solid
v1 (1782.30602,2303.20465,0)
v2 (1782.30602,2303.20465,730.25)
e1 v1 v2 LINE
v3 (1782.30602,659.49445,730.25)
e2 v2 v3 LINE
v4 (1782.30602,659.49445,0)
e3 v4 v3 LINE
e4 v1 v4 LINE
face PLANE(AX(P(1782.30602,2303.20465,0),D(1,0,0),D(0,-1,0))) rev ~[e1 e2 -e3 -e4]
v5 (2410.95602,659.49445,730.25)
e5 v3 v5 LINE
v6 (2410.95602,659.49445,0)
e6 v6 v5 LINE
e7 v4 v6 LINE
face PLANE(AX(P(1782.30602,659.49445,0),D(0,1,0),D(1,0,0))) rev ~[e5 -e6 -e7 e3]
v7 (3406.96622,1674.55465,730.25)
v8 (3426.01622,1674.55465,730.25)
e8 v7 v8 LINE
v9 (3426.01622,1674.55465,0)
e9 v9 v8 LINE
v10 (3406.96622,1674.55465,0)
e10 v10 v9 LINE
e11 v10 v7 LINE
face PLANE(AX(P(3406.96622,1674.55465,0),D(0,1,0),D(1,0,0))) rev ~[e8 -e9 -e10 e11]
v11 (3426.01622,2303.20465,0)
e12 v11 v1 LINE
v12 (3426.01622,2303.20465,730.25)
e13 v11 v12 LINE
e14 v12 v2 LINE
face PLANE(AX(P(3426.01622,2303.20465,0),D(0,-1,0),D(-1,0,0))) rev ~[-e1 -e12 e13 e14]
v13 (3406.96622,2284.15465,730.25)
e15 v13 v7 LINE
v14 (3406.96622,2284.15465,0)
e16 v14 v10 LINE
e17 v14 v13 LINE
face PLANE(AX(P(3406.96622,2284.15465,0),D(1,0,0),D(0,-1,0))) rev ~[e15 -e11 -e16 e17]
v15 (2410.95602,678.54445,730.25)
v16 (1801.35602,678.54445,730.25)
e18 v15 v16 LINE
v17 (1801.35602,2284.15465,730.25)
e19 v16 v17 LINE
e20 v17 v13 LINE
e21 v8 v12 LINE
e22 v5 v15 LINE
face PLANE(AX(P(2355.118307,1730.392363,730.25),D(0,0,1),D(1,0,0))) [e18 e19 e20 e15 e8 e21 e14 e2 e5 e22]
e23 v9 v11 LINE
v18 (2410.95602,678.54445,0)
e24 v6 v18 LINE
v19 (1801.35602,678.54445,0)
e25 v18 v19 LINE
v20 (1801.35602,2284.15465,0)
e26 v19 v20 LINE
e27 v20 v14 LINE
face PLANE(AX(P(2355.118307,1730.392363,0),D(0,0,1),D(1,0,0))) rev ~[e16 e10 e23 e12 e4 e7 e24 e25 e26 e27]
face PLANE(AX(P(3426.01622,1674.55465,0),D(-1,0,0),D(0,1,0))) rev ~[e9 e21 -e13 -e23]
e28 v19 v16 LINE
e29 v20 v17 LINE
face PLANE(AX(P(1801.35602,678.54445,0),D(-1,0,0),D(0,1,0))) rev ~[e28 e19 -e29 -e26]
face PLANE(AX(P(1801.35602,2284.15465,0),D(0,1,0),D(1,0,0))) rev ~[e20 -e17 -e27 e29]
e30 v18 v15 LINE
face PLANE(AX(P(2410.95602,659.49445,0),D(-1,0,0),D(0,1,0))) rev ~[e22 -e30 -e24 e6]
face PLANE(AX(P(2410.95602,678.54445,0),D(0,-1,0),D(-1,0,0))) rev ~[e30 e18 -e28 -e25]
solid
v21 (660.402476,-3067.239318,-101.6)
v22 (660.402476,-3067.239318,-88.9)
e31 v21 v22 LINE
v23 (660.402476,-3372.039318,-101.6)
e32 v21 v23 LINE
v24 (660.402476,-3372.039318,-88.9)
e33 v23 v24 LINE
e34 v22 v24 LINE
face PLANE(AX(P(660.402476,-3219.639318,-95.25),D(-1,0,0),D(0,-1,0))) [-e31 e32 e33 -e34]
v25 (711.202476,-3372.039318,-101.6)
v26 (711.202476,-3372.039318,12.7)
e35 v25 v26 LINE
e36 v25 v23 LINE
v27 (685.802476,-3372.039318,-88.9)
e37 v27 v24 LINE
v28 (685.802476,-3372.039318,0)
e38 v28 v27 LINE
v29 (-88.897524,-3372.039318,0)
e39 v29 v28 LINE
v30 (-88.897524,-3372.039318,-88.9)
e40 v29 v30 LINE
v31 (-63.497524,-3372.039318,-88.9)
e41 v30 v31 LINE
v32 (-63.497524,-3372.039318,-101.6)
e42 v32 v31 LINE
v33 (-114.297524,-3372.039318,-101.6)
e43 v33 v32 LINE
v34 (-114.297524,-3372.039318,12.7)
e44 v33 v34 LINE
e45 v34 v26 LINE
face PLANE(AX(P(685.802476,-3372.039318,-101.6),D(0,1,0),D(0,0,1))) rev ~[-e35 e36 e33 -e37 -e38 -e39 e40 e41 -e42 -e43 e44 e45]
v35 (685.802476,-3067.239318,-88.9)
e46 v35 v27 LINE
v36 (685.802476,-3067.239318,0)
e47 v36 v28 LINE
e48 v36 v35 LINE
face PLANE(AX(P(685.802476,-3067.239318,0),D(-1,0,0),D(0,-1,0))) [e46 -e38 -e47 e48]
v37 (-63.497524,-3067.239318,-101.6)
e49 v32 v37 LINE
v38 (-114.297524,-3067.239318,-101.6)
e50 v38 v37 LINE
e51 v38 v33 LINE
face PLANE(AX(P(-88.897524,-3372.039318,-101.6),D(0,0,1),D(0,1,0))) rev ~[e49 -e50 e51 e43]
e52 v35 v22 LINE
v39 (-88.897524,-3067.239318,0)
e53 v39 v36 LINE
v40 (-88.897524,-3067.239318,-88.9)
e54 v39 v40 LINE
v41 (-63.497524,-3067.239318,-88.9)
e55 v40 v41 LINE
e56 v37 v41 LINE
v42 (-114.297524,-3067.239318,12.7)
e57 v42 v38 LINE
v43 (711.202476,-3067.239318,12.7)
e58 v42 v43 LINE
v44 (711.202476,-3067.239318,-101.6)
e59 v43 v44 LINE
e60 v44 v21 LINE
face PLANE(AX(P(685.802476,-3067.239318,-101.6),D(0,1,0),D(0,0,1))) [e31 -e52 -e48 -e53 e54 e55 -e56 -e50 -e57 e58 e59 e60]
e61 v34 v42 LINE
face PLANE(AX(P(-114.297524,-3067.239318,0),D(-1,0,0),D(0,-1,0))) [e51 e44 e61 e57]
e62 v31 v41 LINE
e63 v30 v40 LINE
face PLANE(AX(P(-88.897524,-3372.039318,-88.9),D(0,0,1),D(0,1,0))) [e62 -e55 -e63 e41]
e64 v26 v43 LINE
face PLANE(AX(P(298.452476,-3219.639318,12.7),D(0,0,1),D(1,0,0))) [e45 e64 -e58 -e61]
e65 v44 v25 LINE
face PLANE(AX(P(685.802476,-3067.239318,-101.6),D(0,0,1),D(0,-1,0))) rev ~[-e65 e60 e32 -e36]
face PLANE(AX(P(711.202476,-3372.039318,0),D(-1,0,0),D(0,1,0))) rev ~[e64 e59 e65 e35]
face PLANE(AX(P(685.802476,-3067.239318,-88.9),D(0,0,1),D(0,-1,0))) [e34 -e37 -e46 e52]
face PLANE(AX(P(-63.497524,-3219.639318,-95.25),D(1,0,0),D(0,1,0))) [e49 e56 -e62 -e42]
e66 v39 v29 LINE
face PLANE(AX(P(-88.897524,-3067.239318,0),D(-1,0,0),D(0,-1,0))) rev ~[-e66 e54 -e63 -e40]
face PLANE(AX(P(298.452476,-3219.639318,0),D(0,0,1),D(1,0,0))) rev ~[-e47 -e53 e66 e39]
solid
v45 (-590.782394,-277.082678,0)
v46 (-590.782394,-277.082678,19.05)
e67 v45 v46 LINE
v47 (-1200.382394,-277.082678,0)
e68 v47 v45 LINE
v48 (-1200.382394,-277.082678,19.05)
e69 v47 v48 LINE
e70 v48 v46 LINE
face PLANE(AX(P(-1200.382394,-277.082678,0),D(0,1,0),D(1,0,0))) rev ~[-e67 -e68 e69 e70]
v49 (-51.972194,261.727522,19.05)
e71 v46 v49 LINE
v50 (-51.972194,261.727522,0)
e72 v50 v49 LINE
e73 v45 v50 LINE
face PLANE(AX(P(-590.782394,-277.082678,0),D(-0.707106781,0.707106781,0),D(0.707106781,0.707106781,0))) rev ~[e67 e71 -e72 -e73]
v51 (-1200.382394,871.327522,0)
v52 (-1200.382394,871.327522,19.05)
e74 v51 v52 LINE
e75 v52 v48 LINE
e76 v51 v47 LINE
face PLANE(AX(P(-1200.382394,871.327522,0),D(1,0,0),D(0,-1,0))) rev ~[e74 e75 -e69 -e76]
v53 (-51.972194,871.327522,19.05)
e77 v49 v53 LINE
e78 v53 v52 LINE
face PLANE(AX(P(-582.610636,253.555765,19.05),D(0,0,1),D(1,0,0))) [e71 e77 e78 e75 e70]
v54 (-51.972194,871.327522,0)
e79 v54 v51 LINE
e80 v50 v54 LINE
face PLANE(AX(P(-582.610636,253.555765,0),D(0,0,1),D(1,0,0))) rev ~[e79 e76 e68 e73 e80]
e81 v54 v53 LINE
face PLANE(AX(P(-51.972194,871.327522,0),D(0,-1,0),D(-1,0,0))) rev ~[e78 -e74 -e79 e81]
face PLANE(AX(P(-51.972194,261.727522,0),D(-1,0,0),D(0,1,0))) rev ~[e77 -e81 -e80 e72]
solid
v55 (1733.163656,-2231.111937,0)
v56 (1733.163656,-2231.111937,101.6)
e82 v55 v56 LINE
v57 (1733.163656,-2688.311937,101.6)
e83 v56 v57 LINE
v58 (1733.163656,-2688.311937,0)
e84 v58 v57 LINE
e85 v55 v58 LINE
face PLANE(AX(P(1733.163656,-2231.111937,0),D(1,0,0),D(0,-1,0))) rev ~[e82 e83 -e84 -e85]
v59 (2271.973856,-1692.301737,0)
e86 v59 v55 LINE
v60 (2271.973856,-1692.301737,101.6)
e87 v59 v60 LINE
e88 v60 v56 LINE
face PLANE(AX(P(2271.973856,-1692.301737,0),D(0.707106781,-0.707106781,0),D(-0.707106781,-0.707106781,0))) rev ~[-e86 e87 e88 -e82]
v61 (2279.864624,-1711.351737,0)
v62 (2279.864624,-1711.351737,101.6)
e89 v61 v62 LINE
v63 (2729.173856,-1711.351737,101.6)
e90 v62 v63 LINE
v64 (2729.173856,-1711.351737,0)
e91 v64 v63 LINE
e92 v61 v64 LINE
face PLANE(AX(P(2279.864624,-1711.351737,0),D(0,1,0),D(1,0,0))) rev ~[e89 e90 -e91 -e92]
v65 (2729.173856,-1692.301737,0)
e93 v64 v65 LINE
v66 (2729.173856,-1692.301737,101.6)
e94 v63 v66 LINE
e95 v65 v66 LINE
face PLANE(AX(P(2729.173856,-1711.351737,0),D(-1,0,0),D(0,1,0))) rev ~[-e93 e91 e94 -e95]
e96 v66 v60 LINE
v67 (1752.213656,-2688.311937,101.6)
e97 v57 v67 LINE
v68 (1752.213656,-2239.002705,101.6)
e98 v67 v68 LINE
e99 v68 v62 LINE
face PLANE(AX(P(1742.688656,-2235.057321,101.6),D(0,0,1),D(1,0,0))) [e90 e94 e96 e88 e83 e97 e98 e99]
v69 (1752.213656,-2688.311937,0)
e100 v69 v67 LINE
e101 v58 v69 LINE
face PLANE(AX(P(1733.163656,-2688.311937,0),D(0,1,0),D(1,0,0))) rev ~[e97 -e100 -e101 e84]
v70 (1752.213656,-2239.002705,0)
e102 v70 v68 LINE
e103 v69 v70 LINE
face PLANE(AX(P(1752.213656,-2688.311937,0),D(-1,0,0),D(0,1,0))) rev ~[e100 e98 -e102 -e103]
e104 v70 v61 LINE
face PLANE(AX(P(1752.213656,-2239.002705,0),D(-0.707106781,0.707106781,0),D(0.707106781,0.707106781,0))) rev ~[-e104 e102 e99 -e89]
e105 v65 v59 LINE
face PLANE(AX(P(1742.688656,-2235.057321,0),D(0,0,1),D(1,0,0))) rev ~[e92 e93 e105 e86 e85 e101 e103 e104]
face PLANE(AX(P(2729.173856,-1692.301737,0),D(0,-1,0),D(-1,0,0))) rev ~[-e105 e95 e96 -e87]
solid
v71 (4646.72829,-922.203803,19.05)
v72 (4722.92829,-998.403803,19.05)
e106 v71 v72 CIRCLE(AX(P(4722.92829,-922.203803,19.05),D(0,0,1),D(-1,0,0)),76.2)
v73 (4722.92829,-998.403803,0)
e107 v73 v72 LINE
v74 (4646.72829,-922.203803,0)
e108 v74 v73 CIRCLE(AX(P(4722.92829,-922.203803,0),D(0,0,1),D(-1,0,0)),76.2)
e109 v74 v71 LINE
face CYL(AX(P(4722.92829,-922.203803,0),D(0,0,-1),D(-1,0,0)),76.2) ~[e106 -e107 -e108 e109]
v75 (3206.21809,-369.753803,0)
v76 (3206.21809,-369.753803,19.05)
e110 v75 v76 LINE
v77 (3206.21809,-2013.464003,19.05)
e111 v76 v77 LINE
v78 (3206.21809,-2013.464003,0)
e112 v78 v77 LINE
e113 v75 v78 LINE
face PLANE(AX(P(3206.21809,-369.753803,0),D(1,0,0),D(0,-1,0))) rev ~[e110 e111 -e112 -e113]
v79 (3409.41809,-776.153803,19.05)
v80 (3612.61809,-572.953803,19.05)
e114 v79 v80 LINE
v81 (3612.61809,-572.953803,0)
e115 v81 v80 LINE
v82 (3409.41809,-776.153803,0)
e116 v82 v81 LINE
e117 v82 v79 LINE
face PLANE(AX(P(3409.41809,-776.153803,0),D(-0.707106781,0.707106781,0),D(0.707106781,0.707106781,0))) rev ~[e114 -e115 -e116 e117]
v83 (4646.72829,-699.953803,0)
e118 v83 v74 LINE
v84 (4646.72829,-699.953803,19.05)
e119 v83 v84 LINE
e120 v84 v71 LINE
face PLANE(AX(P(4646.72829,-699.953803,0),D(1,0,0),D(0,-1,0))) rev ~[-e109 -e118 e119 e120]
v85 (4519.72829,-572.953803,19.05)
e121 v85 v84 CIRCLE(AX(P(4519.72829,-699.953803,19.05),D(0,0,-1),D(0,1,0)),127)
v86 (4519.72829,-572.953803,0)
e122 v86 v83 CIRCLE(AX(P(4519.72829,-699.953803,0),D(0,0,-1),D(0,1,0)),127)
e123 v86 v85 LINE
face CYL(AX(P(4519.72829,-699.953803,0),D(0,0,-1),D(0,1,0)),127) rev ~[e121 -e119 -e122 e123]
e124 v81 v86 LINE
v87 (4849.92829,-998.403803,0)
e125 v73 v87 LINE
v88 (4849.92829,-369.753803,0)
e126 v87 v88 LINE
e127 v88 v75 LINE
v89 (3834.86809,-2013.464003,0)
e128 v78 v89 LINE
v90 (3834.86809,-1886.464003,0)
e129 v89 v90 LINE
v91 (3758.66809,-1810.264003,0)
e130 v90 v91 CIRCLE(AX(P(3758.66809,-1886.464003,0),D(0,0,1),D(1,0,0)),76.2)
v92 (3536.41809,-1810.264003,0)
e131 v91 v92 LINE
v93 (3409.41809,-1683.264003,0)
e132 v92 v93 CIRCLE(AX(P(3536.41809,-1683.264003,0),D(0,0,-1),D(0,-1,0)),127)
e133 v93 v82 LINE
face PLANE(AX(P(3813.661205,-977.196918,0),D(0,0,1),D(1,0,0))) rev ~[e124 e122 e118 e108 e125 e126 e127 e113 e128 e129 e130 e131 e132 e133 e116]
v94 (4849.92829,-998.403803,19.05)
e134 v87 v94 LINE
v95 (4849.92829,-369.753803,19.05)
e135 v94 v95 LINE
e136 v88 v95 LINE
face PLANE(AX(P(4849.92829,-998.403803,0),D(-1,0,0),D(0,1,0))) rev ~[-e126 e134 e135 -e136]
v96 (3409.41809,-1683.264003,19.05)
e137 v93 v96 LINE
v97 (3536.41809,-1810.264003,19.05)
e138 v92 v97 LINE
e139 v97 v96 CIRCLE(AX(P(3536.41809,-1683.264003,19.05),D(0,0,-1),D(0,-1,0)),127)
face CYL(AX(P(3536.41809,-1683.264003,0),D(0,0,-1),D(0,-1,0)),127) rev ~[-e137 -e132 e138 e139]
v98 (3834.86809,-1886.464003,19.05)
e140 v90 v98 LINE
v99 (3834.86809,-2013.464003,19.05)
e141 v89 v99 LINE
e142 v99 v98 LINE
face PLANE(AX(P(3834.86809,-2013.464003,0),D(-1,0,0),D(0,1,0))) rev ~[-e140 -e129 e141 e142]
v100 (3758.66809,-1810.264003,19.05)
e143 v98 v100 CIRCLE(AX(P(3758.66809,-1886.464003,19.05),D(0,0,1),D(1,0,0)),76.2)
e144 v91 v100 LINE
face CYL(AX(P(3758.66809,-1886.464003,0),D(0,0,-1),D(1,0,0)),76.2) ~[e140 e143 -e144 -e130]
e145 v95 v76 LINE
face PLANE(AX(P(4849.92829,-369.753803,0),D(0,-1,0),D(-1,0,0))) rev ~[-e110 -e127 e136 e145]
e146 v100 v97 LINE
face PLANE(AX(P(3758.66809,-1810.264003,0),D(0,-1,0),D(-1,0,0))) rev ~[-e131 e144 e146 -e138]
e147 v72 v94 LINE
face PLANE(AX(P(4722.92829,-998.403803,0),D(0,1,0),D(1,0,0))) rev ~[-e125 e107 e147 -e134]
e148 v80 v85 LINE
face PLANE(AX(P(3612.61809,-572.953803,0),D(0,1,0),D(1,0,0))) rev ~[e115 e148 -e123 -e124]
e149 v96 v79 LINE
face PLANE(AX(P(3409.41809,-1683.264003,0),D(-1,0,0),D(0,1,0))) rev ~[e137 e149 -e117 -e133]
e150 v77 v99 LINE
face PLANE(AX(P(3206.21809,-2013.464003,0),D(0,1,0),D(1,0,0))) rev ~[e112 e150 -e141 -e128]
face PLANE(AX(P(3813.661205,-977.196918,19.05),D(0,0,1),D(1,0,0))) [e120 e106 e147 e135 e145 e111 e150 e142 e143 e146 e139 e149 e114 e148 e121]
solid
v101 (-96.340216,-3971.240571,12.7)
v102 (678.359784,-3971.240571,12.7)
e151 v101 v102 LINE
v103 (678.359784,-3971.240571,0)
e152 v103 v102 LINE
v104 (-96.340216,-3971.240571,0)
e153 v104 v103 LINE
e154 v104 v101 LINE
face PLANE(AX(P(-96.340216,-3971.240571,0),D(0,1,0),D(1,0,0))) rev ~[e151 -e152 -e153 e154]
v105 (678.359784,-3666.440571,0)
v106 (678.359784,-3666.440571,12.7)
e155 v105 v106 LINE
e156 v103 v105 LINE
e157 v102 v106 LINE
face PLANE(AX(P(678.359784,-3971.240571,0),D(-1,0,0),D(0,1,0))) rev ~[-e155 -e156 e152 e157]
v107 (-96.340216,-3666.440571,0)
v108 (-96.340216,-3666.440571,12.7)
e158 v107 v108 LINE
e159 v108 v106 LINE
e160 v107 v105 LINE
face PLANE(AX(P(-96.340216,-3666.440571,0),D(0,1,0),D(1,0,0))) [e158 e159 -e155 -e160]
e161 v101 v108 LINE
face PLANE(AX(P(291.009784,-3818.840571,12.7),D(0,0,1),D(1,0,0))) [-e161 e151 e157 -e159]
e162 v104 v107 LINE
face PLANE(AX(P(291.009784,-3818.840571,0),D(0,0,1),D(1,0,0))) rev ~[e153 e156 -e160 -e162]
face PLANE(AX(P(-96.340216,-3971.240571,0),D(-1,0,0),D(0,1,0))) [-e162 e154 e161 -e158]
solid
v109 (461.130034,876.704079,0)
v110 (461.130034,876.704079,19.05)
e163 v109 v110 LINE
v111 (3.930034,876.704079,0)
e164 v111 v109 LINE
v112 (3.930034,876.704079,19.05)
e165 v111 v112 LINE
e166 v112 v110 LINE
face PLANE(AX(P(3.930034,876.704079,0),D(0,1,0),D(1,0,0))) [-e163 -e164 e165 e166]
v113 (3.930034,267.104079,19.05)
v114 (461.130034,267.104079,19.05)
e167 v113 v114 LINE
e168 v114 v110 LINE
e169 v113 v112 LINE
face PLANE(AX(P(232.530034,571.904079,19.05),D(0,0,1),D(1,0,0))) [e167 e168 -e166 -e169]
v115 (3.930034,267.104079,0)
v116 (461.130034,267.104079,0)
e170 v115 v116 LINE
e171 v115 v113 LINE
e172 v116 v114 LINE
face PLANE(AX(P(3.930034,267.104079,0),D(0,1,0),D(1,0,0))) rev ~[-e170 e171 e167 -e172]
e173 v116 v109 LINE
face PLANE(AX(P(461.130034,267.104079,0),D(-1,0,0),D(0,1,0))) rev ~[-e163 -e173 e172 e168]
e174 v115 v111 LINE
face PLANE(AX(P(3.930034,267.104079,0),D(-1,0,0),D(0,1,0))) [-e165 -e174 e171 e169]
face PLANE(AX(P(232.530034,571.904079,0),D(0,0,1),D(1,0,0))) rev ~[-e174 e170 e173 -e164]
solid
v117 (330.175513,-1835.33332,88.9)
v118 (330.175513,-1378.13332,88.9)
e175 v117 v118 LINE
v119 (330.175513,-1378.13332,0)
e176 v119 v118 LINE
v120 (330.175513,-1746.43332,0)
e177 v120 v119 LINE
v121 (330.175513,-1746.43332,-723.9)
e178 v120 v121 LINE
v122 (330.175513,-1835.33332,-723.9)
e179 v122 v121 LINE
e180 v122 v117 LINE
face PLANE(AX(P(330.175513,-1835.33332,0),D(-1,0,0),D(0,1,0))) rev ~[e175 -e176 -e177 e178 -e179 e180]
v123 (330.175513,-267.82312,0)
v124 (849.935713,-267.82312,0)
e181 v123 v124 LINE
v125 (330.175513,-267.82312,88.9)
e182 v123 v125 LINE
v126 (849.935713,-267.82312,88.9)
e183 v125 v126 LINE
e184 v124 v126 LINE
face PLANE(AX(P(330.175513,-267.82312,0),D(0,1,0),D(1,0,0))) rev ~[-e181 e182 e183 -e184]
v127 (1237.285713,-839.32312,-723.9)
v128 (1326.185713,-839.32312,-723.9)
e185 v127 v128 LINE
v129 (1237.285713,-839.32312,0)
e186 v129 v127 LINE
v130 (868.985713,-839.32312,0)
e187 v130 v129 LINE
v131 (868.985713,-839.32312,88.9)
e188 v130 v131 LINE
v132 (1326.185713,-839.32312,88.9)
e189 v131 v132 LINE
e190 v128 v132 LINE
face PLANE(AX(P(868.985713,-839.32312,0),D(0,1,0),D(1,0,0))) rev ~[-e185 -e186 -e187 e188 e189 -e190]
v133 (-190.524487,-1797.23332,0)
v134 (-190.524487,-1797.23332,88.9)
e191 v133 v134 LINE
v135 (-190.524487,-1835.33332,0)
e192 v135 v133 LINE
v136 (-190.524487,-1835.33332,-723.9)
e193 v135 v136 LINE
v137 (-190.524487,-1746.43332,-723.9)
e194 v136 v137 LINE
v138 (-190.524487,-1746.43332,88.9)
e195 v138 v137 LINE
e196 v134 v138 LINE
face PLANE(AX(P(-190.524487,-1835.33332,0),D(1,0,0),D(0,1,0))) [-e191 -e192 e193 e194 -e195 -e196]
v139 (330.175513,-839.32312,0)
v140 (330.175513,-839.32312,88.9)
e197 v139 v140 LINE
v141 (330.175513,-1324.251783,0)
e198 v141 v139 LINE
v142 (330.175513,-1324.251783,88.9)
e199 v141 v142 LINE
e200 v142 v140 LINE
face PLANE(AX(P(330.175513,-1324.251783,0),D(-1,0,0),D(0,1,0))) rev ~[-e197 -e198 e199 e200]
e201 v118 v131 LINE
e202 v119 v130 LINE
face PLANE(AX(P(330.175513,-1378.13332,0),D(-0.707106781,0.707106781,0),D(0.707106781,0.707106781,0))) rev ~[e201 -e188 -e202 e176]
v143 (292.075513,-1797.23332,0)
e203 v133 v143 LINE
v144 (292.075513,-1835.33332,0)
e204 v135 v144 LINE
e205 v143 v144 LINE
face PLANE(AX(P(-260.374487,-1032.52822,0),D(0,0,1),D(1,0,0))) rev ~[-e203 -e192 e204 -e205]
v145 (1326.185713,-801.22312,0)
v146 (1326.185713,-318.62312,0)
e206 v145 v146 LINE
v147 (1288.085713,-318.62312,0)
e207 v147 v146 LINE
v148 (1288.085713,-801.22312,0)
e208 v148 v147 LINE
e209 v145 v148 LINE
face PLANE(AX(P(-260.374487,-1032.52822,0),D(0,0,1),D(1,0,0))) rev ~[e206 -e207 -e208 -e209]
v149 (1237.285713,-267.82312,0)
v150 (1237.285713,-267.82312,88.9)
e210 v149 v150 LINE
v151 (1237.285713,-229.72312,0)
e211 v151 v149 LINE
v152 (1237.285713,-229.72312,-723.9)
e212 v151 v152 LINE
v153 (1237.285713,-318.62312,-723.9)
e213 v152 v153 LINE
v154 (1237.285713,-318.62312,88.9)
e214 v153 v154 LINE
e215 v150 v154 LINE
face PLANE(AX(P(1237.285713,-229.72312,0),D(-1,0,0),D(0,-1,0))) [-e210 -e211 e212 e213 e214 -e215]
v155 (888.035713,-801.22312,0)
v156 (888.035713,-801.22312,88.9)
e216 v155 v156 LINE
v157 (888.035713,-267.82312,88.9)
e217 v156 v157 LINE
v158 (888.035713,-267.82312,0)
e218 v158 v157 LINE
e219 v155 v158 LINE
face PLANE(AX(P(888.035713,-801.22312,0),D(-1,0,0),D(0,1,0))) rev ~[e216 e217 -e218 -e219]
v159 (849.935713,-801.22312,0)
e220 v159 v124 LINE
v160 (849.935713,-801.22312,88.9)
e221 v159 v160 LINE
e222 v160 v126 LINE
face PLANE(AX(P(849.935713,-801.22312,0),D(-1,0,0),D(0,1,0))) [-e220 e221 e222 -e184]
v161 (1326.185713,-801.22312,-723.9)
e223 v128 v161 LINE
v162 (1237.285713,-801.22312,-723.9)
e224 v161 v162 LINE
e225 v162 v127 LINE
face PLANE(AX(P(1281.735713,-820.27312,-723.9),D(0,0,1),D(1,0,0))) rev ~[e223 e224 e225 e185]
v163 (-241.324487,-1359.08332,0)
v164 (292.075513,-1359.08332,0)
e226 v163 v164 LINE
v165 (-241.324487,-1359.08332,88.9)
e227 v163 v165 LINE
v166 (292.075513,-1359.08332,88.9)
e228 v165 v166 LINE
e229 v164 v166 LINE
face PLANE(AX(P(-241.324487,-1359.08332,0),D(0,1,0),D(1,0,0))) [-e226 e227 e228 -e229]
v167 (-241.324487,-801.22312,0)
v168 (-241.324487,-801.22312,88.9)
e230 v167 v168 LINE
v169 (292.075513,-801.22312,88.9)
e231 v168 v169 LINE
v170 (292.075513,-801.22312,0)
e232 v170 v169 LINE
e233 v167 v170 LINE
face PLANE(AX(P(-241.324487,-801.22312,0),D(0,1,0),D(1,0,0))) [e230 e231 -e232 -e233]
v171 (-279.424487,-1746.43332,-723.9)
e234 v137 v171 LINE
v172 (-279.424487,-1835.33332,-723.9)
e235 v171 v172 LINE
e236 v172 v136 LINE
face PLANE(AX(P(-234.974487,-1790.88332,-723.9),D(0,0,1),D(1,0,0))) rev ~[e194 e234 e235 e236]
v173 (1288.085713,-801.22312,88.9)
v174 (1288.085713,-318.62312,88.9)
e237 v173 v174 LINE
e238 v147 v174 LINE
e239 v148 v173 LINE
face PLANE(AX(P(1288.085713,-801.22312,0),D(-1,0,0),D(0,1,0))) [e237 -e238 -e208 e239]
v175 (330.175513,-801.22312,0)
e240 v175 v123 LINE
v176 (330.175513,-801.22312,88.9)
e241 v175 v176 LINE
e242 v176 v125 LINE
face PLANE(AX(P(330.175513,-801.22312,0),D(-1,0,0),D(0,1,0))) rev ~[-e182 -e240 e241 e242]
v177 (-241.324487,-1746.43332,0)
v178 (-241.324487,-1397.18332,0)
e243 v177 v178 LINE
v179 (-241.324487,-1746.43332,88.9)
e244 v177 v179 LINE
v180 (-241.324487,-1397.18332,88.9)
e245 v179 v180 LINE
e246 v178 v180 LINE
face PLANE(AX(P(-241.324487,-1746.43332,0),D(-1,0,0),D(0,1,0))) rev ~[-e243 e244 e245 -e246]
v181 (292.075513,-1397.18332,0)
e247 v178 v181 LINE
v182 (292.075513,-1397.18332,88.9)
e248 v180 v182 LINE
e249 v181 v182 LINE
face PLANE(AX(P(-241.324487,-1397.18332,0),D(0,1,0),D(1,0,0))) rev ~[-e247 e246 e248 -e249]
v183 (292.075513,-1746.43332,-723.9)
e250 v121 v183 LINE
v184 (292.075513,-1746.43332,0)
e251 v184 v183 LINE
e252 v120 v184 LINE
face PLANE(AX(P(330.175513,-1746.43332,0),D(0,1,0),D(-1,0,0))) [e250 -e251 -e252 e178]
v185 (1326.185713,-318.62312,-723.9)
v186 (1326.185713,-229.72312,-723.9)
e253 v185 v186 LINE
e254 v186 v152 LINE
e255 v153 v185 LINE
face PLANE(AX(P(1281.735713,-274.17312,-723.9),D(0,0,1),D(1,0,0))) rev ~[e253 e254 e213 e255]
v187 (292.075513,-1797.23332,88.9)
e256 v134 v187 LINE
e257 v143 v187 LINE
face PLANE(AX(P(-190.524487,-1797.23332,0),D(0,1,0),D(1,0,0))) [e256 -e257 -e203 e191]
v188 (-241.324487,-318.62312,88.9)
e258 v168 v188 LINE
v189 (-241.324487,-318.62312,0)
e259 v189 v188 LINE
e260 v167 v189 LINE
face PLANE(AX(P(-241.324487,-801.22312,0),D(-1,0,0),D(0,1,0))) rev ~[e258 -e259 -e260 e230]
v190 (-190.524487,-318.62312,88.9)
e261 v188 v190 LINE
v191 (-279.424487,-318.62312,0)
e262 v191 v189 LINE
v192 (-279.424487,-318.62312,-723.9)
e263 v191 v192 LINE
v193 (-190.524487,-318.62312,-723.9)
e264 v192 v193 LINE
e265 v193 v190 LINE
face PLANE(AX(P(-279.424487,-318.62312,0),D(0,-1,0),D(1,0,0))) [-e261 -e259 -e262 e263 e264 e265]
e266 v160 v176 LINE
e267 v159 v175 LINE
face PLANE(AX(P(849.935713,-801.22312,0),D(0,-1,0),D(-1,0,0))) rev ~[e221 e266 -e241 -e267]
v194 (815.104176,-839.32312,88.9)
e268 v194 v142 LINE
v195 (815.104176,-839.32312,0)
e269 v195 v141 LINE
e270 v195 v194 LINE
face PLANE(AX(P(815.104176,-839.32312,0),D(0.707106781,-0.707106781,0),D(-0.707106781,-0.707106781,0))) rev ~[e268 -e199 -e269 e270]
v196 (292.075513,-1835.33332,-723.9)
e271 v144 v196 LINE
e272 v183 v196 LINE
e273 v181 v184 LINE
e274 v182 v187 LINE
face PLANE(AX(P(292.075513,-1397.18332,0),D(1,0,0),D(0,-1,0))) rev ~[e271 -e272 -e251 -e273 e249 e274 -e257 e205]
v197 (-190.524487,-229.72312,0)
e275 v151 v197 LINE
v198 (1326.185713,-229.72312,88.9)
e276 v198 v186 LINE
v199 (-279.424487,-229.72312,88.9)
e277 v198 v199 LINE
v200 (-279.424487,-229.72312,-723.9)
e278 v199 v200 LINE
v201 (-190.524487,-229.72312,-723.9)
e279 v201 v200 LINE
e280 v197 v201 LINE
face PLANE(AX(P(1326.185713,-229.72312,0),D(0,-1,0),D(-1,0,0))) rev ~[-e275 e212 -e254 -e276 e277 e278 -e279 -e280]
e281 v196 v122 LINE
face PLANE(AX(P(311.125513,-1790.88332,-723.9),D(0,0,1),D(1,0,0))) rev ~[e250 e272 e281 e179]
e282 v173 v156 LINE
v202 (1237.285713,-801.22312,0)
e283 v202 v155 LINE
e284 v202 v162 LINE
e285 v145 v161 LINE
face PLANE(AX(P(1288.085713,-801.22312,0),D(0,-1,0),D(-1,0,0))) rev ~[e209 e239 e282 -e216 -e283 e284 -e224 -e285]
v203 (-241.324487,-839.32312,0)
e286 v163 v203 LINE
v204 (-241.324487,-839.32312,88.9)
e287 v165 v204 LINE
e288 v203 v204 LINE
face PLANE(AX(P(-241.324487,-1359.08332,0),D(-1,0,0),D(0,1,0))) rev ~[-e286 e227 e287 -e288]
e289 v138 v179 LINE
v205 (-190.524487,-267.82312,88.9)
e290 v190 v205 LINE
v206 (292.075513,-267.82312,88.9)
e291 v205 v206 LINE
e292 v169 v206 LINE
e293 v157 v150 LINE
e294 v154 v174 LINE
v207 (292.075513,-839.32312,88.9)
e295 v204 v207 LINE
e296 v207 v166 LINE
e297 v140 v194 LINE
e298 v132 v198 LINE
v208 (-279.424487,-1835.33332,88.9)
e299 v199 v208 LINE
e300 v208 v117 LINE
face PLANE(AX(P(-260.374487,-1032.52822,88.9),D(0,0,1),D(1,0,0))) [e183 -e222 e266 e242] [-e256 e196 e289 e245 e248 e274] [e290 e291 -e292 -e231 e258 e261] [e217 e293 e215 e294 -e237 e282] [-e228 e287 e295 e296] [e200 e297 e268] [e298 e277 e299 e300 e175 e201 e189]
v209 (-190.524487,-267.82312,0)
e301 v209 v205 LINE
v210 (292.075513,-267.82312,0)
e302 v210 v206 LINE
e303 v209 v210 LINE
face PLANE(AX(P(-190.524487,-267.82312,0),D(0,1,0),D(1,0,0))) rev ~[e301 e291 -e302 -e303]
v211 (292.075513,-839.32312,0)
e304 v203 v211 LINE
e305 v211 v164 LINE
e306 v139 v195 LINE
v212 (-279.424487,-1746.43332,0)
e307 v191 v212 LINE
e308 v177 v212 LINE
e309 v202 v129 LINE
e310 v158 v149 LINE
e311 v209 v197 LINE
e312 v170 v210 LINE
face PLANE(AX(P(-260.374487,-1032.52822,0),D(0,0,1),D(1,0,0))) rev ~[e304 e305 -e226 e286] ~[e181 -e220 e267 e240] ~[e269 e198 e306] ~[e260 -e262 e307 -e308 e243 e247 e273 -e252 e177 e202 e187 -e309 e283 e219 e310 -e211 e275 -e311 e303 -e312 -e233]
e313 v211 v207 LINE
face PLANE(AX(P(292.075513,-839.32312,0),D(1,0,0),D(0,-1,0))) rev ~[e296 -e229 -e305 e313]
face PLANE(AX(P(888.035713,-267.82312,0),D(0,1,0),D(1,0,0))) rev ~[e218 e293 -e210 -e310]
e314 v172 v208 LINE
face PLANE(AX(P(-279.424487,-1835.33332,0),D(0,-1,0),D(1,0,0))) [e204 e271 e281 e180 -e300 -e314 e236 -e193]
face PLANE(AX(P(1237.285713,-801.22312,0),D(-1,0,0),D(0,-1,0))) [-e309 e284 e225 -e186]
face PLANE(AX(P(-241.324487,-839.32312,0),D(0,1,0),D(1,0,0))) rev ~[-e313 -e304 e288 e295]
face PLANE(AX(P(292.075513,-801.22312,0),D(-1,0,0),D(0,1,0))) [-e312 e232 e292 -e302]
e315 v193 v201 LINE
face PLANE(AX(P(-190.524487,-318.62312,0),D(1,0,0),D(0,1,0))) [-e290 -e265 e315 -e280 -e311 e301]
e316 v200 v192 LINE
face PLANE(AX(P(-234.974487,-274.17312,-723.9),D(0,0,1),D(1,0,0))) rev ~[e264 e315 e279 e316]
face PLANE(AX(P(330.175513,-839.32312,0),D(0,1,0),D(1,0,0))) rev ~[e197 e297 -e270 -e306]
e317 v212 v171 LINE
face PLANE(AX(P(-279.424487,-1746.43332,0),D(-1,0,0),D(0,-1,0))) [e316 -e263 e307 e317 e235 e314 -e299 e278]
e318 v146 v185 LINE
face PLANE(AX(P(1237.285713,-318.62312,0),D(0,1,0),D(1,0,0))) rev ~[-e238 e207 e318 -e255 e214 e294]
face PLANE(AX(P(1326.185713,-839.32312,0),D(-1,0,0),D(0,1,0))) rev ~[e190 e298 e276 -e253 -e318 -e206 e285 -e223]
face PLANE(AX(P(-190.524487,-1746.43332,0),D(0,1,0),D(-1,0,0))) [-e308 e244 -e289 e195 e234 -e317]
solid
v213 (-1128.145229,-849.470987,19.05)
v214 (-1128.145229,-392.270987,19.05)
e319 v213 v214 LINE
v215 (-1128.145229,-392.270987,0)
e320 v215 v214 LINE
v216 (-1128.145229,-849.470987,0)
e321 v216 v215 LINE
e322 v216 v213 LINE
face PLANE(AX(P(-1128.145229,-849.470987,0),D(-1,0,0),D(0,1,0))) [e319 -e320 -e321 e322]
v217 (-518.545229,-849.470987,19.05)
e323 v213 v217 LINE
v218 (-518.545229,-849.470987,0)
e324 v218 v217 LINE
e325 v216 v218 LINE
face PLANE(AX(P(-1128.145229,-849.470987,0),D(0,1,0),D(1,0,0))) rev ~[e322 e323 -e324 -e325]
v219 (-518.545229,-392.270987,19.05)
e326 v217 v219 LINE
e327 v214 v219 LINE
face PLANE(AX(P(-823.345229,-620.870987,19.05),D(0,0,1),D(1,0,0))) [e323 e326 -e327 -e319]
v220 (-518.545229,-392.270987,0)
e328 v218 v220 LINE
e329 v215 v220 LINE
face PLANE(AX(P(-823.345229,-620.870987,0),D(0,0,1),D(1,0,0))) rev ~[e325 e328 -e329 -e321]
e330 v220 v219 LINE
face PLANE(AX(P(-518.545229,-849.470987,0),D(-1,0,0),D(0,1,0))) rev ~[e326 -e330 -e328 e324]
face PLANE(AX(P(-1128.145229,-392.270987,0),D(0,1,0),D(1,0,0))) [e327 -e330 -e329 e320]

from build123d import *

# Parameters (mm, degrees)
F1_DEPTH  = 19.05
F2_W      = 609.6
F2_H      = 457.2
F3_DEPTH  = 19.05
F2_W_2    = 457.2
F2_H_2    = 609.6
F4_W      = 38.1
F4_H      = 533.4
F4_W_2    = 533.4
F4_H_2    = 38.1
F4_H_3    = 482.6
F4_W_3    = 482.6
F5_DEPTH  = 88.9
F6_DEPTH  = 723.9
F8_DEPTH  = 730.25
F10_DEPTH = 19.05
F12_DEPTH = 101.6
F13_W     = 825.5
F13_H     = 304.8
F14_DEPTH = 12.7
F13_W_2   = 774.7
F15_W     = 25.4
F15_H     = 304.8
F16_DEPTH = 101.6
F17_W     = 304.8
F17_H     = 12.7
F18_DEPTH = 25.4
F19_W     = 304.8
F19_H     = 12.7
F20_DEPTH = 25.4


with BuildPart() as f1:
    # F0 (on Top) → F1 (new body)
    with BuildSketch(Plane.XY):
        Polygon((-51.9721941534, 871.3275224966), (-304.476781776, 871.3275224966), (-1200.3823941534, -24.5780898807), (-1200.3823941534, -277.0826775034), (-590.7823941534, -277.0826775034), (-590.7823941534, 261.7275224966), (-51.9721941534, 261.7275224966), align=None)
        Polygon((-590.7823941534, -277.0826775034), (-51.9721941534, 261.7275224966), (-590.7823941534, 261.7275224966), align=None)
        Polygon((-304.476781776, 871.3275224966), (-1200.3823941534, 871.3275224966), (-1200.3823941534, -24.5780898807), align=None)
    extrude(amount=F1_DEPTH)


with BuildPart() as f3:
    # F2 (on Top) → F3 (new body)
    with BuildSketch(Plane.XY):
        with Locations((-823.3452288248, -620.8709870014)):
            Rectangle(F2_W, F2_H)
    extrude(amount=F3_DEPTH)


with BuildPart() as f3b:
    # F2 (on Top) → F3, piece 2 (new body)
    with BuildSketch(Plane.XY):
        with Locations((232.5300339319, 571.9040786624)):
            Rectangle(F2_W_2, F2_H_2)
    extrude(amount=F3_DEPTH)


with BuildPart() as f5:
    # F4 (on Top) → F5 (new body)
    with BuildSketch(Plane.XY):
        Polygon((-241.3244870595, -318.6231202126), (-279.4244870595, -318.6231202126), (-279.4244870595, -1746.4333202126), (-241.3244870595, -1746.4333202126), (-241.3244870595, -1397.1833202126), (-241.3244870595, -1359.0833202126), (-241.3244870595, -839.3231202126), (-241.3244870595, -801.2231202126), align=None)
        Polygon((-190.5244870595, -229.7231202126), (-279.4244870595, -229.7231202126), (-279.4244870595, -318.6119198799), (-279.4244870595, -318.6231202126), (-241.3244870595, -318.6231202126), (-190.5244870595, -318.6231202126), (-190.5244870595, -267.8231202126), align=None)
        Polygon((1237.2857129405, -229.7231202126), (-190.5244870595, -229.7231202126), (-190.5244870595, -267.8231202126), (292.0755129405, -267.8231202126), (330.1755129405, -267.8231202126), (849.9357129405, -267.8231202126), (888.0357129405, -267.8231202126), (1237.2857129405, -267.8231202126), align=None)
        with Locations((311.1255129405, -534.5231202126)):
            Rectangle(F4_W, F4_H)
        with Locations((25.3755129405, -820.2731202126)):
            Rectangle(F4_W_2, F4_H_2)
        with Locations((311.1255129405, -820.2731202126)):
            Rectangle(F4_W, F4_H_2)
        Polygon((330.1755129405, -839.3231202126), (292.0755129405, -839.3231202126), (292.0755129405, -1359.0833202126), (292.0755129405, -1397.1833202126), (292.0755129405, -1746.4333202126), (330.1755129405, -1746.4333202126), (330.1755129405, -1378.1333202126), (330.1755129405, -1324.2517834861), align=None)
        Polygon((1237.2857129405, -801.2231202126), (888.0357129405, -801.2231202126), (849.9357129405, -801.2231202126), (330.1755129405, -801.2231202126), (330.1755129405, -839.3231202126), (815.104176214, -839.3231202126), (868.9857129405, -839.3231202126), (1237.2857129405, -839.3231202126), align=None)
        with Locations((868.9857129405, -534.5231202126)):
            Rectangle(F4_W, F4_H)
        Polygon((1326.1857129405, -229.7231202126), (1237.2857129405, -229.7231202126), (1237.2857129405, -267.8231202126), (1237.2857129405, -318.6231202126), (1288.0857129405, -318.6231202126), (1326.1857129405, -318.6231202126), (1326.1857129405, -318.6119198799), align=None)
        with Locations((1307.1357129405, -559.9231202126)):
            Rectangle(F4_W, F4_H_3)
        Polygon((1326.1857129405, -839.3231202126), (1326.1857129405, -801.2231202126), (1288.0857129405, -801.2231202126), (1237.2857129405, -801.2231202126), (1237.2857129405, -839.3231202126), align=None)
        with Locations((25.3755129405, -1378.1333202126)):
            Rectangle(F4_W_2, F4_H_2)
        Polygon((-241.3244870595, -1746.4333202126), (-279.4244870595, -1746.4333202126), (-279.4244870595, -1835.3333202126), (-190.5244870595, -1835.3333202126), (-190.5244870595, -1797.2333202126), (-190.5244870595, -1746.4333202126), align=None)
        with Locations((50.7755129405, -1816.2833202126)):
            Rectangle(F4_W_3, F4_H_2)
        Polygon((292.0755129405, -1797.2333202126), (292.0755129405, -1835.3333202126), (330.1755129405, -1835.3333202126), (330.1755129405, -1746.4333202126), (292.0755129405, -1746.4333202126), align=None)
        Polygon((868.9857129405, -839.3231202126), (815.104176214, -839.3231202126), (330.1755129405, -1324.2517834861), (330.1755129405, -1378.1333202126), align=None)
    extrude(amount=F5_DEPTH)

    # F4 (on Top) → F6 (join)
    with BuildSketch(Plane.XY):
        Polygon((-241.3244870595, -1746.4333202126), (-279.4244870595, -1746.4333202126), (-279.4244870595, -1835.3333202126), (-190.5244870595, -1835.3333202126), (-190.5244870595, -1797.2333202126), (-190.5244870595, -1746.4333202126), align=None)
        Polygon((292.0755129405, -1797.2333202126), (292.0755129405, -1835.3333202126), (330.1755129405, -1835.3333202126), (330.1755129405, -1746.4333202126), (292.0755129405, -1746.4333202126), align=None)
        Polygon((-190.5244870595, -229.7231202126), (-279.4244870595, -229.7231202126), (-279.4244870595, -318.6119198799), (-279.4244870595, -318.6231202126), (-241.3244870595, -318.6231202126), (-190.5244870595, -318.6231202126), (-190.5244870595, -267.8231202126), align=None)
        Polygon((1326.1857129405, -229.7231202126), (1237.2857129405, -229.7231202126), (1237.2857129405, -267.8231202126), (1237.2857129405, -318.6231202126), (1288.0857129405, -318.6231202126), (1326.1857129405, -318.6231202126), (1326.1857129405, -318.6119198799), align=None)
        Polygon((1326.1857129405, -839.3231202126), (1326.1857129405, -801.2231202126), (1288.0857129405, -801.2231202126), (1237.2857129405, -801.2231202126), (1237.2857129405, -839.3231202126), align=None)
    extrude(amount=-F6_DEPTH)


with BuildPart() as f8:
    # F7 (on Top) → F8 (new body)
    with BuildSketch(Plane.XY):
        Polygon((1782.3060198848, 2303.2046501876), (1782.3060198848, 659.4944501876), (2410.9560198848, 659.4944501876), (2410.9560198848, 678.5444501876), (1801.3560198848, 678.5444501876), (1801.3560198848, 2284.1546501876), (3406.9662198848, 2284.1546501876), (3406.9662198848, 1674.5546501876), (3426.0162198848, 1674.5546501876), (3426.0162198848, 2303.2046501876), align=None)
    extrude(amount=F8_DEPTH)


with BuildPart() as f10:
    # F9 (on Top) → F10 (new body)
    with BuildSketch(Plane.XY):
        with BuildLine():
            Line((4849.9282895447, -369.7538028717), (3206.2180895447, -369.7538028717))
            Line((3206.2180895447, -369.7538028717), (3206.2180895447, -2013.4640028717))
            Line((3206.2180895447, -2013.4640028717), (3409.4180895447, -2013.4640028717))
            Line((3409.4180895447, -2013.4640028717), (3834.8680895447, -2013.4640028717))
            Line((3834.8680895447, -2013.4640028717), (3834.8680895447, -1886.4640028717))
            ThreePointArc((3834.8680895447, -1886.4640028717), (3812.5496262711, -1832.5824661453), (3758.6680895447, -1810.2640028717))
            Line((3758.6680895447, -1810.2640028717), (3536.4180895447, -1810.2640028717))
            ThreePointArc((3536.4180895447, -1810.2640028717), (3446.615528334, -1773.0665640824), (3409.4180895447, -1683.2640028717))
            Line((3409.4180895447, -1683.2640028717), (3409.4180895447, -776.1538028717))
            Line((3409.4180895447, -776.1538028717), (3409.4180895447, -572.9538028717))
            Line((3409.4180895447, -572.9538028717), (3612.6180895447, -572.9538028717))
            Line((3612.6180895447, -572.9538028717), (4519.7282895447, -572.9538028717))
            ThreePointArc((4519.7282895447, -572.9538028717), (4609.5308507554, -610.151241661), (4646.7282895447, -699.9538028717))
            Line((4646.7282895447, -699.9538028717), (4646.7282895447, -922.2038028717))
            ThreePointArc((4646.7282895447, -922.2038028717), (4669.0467528183, -976.0853395981), (4722.9282895447, -998.4038028717))
            Line((4722.9282895447, -998.4038028717), (4849.9282895447, -998.4038028717))
            Line((4849.9282895447, -998.4038028717), (4849.9282895447, -572.9538028717))
            Line((4849.9282895447, -572.9538028717), (4849.9282895447, -369.7538028717))
        make_face()
        Polygon((3409.4180895447, -776.1538028717), (3612.6180895447, -572.9538028717), (3409.4180895447, -572.9538028717), align=None)
    extrude(amount=F10_DEPTH)


with BuildPart() as f12:
    # F11 (on Top) → F12 (new body)
    with BuildSketch(Plane.XY):
        Polygon((1733.1636556043, -2258.0527052501), (1752.2136556043, -2239.0027052501), (1752.2136556043, -2212.0619368869), (1733.1636556043, -2231.1119368869), align=None)
        Polygon((1733.1636556043, -2688.3119368869), (1752.2136556043, -2688.3119368869), (1752.2136556043, -2239.0027052501), (1733.1636556043, -2258.0527052501), align=None)
        Polygon((1752.2136556043, -2212.0619368869), (1752.2136556043, -2239.0027052501), (2279.8646239675, -1711.3517368869), (2252.9238556043, -1711.3517368869), align=None)
        Polygon((2252.9238556043, -1711.3517368869), (2279.8646239675, -1711.3517368869), (2298.9146239675, -1692.3017368869), (2271.9738556043, -1692.3017368869), align=None)
        Polygon((2279.8646239675, -1711.3517368869), (2729.1738556043, -1711.3517368869), (2729.1738556043, -1692.3017368869), (2298.9146239675, -1692.3017368869), align=None)
    extrude(amount=F12_DEPTH)


with BuildPart() as f14:
    # F13 (on Top) → F14 (new body)
    with BuildSketch(Plane.XY):
        with Locations((298.4524759054, -3219.6393180847)):
            Rectangle(F13_W, F13_H)
    extrude(amount=F14_DEPTH)

    # F15 (on face) → F16 (join)
    with BuildSketch(Plane(origin=(0, 0, 0), x_dir=(1, 0, 0), z_dir=(0, 0, -1))):
        with Locations((-101.5975240946, 3219.6393180847)):
            Rectangle(F15_W, F15_H)
        with Locations((698.5024759054, 3219.6393180847)):
            Rectangle(F15_W, F15_H)
    extrude(amount=F16_DEPTH)

    # F17 (on face) → F18 (join)
    with BuildSketch(Plane.YZ.offset(-88.8975240946)):
        with Locations((-3219.6393180847, -95.25)):
            Rectangle(F17_W, F17_H)
    extrude(amount=F18_DEPTH)

    # F19 (on face) → F20 (join)
    with BuildSketch(Plane(origin=(685.8024759054, 0, 0), x_dir=(0, -1, 0), z_dir=(-1, 0, 0))):
        with Locations((3219.6393180847, -95.25)):
            Rectangle(F19_W, F19_H)
    extrude(amount=F20_DEPTH)


with BuildPart() as f14b:
    # F13 (on Top) → F14, piece 2 (new body)
    with BuildSketch(Plane.XY):
        with Locations((291.0097837448, -3818.8405711409)):
            Rectangle(F13_W_2, F13_H)
    extrude(amount=F14_DEPTH)


solid = Compound([f1.part, f3.part, f3b.part, f5.part, f8.part, f10.part, f12.part, f14.part, f14b.part])
